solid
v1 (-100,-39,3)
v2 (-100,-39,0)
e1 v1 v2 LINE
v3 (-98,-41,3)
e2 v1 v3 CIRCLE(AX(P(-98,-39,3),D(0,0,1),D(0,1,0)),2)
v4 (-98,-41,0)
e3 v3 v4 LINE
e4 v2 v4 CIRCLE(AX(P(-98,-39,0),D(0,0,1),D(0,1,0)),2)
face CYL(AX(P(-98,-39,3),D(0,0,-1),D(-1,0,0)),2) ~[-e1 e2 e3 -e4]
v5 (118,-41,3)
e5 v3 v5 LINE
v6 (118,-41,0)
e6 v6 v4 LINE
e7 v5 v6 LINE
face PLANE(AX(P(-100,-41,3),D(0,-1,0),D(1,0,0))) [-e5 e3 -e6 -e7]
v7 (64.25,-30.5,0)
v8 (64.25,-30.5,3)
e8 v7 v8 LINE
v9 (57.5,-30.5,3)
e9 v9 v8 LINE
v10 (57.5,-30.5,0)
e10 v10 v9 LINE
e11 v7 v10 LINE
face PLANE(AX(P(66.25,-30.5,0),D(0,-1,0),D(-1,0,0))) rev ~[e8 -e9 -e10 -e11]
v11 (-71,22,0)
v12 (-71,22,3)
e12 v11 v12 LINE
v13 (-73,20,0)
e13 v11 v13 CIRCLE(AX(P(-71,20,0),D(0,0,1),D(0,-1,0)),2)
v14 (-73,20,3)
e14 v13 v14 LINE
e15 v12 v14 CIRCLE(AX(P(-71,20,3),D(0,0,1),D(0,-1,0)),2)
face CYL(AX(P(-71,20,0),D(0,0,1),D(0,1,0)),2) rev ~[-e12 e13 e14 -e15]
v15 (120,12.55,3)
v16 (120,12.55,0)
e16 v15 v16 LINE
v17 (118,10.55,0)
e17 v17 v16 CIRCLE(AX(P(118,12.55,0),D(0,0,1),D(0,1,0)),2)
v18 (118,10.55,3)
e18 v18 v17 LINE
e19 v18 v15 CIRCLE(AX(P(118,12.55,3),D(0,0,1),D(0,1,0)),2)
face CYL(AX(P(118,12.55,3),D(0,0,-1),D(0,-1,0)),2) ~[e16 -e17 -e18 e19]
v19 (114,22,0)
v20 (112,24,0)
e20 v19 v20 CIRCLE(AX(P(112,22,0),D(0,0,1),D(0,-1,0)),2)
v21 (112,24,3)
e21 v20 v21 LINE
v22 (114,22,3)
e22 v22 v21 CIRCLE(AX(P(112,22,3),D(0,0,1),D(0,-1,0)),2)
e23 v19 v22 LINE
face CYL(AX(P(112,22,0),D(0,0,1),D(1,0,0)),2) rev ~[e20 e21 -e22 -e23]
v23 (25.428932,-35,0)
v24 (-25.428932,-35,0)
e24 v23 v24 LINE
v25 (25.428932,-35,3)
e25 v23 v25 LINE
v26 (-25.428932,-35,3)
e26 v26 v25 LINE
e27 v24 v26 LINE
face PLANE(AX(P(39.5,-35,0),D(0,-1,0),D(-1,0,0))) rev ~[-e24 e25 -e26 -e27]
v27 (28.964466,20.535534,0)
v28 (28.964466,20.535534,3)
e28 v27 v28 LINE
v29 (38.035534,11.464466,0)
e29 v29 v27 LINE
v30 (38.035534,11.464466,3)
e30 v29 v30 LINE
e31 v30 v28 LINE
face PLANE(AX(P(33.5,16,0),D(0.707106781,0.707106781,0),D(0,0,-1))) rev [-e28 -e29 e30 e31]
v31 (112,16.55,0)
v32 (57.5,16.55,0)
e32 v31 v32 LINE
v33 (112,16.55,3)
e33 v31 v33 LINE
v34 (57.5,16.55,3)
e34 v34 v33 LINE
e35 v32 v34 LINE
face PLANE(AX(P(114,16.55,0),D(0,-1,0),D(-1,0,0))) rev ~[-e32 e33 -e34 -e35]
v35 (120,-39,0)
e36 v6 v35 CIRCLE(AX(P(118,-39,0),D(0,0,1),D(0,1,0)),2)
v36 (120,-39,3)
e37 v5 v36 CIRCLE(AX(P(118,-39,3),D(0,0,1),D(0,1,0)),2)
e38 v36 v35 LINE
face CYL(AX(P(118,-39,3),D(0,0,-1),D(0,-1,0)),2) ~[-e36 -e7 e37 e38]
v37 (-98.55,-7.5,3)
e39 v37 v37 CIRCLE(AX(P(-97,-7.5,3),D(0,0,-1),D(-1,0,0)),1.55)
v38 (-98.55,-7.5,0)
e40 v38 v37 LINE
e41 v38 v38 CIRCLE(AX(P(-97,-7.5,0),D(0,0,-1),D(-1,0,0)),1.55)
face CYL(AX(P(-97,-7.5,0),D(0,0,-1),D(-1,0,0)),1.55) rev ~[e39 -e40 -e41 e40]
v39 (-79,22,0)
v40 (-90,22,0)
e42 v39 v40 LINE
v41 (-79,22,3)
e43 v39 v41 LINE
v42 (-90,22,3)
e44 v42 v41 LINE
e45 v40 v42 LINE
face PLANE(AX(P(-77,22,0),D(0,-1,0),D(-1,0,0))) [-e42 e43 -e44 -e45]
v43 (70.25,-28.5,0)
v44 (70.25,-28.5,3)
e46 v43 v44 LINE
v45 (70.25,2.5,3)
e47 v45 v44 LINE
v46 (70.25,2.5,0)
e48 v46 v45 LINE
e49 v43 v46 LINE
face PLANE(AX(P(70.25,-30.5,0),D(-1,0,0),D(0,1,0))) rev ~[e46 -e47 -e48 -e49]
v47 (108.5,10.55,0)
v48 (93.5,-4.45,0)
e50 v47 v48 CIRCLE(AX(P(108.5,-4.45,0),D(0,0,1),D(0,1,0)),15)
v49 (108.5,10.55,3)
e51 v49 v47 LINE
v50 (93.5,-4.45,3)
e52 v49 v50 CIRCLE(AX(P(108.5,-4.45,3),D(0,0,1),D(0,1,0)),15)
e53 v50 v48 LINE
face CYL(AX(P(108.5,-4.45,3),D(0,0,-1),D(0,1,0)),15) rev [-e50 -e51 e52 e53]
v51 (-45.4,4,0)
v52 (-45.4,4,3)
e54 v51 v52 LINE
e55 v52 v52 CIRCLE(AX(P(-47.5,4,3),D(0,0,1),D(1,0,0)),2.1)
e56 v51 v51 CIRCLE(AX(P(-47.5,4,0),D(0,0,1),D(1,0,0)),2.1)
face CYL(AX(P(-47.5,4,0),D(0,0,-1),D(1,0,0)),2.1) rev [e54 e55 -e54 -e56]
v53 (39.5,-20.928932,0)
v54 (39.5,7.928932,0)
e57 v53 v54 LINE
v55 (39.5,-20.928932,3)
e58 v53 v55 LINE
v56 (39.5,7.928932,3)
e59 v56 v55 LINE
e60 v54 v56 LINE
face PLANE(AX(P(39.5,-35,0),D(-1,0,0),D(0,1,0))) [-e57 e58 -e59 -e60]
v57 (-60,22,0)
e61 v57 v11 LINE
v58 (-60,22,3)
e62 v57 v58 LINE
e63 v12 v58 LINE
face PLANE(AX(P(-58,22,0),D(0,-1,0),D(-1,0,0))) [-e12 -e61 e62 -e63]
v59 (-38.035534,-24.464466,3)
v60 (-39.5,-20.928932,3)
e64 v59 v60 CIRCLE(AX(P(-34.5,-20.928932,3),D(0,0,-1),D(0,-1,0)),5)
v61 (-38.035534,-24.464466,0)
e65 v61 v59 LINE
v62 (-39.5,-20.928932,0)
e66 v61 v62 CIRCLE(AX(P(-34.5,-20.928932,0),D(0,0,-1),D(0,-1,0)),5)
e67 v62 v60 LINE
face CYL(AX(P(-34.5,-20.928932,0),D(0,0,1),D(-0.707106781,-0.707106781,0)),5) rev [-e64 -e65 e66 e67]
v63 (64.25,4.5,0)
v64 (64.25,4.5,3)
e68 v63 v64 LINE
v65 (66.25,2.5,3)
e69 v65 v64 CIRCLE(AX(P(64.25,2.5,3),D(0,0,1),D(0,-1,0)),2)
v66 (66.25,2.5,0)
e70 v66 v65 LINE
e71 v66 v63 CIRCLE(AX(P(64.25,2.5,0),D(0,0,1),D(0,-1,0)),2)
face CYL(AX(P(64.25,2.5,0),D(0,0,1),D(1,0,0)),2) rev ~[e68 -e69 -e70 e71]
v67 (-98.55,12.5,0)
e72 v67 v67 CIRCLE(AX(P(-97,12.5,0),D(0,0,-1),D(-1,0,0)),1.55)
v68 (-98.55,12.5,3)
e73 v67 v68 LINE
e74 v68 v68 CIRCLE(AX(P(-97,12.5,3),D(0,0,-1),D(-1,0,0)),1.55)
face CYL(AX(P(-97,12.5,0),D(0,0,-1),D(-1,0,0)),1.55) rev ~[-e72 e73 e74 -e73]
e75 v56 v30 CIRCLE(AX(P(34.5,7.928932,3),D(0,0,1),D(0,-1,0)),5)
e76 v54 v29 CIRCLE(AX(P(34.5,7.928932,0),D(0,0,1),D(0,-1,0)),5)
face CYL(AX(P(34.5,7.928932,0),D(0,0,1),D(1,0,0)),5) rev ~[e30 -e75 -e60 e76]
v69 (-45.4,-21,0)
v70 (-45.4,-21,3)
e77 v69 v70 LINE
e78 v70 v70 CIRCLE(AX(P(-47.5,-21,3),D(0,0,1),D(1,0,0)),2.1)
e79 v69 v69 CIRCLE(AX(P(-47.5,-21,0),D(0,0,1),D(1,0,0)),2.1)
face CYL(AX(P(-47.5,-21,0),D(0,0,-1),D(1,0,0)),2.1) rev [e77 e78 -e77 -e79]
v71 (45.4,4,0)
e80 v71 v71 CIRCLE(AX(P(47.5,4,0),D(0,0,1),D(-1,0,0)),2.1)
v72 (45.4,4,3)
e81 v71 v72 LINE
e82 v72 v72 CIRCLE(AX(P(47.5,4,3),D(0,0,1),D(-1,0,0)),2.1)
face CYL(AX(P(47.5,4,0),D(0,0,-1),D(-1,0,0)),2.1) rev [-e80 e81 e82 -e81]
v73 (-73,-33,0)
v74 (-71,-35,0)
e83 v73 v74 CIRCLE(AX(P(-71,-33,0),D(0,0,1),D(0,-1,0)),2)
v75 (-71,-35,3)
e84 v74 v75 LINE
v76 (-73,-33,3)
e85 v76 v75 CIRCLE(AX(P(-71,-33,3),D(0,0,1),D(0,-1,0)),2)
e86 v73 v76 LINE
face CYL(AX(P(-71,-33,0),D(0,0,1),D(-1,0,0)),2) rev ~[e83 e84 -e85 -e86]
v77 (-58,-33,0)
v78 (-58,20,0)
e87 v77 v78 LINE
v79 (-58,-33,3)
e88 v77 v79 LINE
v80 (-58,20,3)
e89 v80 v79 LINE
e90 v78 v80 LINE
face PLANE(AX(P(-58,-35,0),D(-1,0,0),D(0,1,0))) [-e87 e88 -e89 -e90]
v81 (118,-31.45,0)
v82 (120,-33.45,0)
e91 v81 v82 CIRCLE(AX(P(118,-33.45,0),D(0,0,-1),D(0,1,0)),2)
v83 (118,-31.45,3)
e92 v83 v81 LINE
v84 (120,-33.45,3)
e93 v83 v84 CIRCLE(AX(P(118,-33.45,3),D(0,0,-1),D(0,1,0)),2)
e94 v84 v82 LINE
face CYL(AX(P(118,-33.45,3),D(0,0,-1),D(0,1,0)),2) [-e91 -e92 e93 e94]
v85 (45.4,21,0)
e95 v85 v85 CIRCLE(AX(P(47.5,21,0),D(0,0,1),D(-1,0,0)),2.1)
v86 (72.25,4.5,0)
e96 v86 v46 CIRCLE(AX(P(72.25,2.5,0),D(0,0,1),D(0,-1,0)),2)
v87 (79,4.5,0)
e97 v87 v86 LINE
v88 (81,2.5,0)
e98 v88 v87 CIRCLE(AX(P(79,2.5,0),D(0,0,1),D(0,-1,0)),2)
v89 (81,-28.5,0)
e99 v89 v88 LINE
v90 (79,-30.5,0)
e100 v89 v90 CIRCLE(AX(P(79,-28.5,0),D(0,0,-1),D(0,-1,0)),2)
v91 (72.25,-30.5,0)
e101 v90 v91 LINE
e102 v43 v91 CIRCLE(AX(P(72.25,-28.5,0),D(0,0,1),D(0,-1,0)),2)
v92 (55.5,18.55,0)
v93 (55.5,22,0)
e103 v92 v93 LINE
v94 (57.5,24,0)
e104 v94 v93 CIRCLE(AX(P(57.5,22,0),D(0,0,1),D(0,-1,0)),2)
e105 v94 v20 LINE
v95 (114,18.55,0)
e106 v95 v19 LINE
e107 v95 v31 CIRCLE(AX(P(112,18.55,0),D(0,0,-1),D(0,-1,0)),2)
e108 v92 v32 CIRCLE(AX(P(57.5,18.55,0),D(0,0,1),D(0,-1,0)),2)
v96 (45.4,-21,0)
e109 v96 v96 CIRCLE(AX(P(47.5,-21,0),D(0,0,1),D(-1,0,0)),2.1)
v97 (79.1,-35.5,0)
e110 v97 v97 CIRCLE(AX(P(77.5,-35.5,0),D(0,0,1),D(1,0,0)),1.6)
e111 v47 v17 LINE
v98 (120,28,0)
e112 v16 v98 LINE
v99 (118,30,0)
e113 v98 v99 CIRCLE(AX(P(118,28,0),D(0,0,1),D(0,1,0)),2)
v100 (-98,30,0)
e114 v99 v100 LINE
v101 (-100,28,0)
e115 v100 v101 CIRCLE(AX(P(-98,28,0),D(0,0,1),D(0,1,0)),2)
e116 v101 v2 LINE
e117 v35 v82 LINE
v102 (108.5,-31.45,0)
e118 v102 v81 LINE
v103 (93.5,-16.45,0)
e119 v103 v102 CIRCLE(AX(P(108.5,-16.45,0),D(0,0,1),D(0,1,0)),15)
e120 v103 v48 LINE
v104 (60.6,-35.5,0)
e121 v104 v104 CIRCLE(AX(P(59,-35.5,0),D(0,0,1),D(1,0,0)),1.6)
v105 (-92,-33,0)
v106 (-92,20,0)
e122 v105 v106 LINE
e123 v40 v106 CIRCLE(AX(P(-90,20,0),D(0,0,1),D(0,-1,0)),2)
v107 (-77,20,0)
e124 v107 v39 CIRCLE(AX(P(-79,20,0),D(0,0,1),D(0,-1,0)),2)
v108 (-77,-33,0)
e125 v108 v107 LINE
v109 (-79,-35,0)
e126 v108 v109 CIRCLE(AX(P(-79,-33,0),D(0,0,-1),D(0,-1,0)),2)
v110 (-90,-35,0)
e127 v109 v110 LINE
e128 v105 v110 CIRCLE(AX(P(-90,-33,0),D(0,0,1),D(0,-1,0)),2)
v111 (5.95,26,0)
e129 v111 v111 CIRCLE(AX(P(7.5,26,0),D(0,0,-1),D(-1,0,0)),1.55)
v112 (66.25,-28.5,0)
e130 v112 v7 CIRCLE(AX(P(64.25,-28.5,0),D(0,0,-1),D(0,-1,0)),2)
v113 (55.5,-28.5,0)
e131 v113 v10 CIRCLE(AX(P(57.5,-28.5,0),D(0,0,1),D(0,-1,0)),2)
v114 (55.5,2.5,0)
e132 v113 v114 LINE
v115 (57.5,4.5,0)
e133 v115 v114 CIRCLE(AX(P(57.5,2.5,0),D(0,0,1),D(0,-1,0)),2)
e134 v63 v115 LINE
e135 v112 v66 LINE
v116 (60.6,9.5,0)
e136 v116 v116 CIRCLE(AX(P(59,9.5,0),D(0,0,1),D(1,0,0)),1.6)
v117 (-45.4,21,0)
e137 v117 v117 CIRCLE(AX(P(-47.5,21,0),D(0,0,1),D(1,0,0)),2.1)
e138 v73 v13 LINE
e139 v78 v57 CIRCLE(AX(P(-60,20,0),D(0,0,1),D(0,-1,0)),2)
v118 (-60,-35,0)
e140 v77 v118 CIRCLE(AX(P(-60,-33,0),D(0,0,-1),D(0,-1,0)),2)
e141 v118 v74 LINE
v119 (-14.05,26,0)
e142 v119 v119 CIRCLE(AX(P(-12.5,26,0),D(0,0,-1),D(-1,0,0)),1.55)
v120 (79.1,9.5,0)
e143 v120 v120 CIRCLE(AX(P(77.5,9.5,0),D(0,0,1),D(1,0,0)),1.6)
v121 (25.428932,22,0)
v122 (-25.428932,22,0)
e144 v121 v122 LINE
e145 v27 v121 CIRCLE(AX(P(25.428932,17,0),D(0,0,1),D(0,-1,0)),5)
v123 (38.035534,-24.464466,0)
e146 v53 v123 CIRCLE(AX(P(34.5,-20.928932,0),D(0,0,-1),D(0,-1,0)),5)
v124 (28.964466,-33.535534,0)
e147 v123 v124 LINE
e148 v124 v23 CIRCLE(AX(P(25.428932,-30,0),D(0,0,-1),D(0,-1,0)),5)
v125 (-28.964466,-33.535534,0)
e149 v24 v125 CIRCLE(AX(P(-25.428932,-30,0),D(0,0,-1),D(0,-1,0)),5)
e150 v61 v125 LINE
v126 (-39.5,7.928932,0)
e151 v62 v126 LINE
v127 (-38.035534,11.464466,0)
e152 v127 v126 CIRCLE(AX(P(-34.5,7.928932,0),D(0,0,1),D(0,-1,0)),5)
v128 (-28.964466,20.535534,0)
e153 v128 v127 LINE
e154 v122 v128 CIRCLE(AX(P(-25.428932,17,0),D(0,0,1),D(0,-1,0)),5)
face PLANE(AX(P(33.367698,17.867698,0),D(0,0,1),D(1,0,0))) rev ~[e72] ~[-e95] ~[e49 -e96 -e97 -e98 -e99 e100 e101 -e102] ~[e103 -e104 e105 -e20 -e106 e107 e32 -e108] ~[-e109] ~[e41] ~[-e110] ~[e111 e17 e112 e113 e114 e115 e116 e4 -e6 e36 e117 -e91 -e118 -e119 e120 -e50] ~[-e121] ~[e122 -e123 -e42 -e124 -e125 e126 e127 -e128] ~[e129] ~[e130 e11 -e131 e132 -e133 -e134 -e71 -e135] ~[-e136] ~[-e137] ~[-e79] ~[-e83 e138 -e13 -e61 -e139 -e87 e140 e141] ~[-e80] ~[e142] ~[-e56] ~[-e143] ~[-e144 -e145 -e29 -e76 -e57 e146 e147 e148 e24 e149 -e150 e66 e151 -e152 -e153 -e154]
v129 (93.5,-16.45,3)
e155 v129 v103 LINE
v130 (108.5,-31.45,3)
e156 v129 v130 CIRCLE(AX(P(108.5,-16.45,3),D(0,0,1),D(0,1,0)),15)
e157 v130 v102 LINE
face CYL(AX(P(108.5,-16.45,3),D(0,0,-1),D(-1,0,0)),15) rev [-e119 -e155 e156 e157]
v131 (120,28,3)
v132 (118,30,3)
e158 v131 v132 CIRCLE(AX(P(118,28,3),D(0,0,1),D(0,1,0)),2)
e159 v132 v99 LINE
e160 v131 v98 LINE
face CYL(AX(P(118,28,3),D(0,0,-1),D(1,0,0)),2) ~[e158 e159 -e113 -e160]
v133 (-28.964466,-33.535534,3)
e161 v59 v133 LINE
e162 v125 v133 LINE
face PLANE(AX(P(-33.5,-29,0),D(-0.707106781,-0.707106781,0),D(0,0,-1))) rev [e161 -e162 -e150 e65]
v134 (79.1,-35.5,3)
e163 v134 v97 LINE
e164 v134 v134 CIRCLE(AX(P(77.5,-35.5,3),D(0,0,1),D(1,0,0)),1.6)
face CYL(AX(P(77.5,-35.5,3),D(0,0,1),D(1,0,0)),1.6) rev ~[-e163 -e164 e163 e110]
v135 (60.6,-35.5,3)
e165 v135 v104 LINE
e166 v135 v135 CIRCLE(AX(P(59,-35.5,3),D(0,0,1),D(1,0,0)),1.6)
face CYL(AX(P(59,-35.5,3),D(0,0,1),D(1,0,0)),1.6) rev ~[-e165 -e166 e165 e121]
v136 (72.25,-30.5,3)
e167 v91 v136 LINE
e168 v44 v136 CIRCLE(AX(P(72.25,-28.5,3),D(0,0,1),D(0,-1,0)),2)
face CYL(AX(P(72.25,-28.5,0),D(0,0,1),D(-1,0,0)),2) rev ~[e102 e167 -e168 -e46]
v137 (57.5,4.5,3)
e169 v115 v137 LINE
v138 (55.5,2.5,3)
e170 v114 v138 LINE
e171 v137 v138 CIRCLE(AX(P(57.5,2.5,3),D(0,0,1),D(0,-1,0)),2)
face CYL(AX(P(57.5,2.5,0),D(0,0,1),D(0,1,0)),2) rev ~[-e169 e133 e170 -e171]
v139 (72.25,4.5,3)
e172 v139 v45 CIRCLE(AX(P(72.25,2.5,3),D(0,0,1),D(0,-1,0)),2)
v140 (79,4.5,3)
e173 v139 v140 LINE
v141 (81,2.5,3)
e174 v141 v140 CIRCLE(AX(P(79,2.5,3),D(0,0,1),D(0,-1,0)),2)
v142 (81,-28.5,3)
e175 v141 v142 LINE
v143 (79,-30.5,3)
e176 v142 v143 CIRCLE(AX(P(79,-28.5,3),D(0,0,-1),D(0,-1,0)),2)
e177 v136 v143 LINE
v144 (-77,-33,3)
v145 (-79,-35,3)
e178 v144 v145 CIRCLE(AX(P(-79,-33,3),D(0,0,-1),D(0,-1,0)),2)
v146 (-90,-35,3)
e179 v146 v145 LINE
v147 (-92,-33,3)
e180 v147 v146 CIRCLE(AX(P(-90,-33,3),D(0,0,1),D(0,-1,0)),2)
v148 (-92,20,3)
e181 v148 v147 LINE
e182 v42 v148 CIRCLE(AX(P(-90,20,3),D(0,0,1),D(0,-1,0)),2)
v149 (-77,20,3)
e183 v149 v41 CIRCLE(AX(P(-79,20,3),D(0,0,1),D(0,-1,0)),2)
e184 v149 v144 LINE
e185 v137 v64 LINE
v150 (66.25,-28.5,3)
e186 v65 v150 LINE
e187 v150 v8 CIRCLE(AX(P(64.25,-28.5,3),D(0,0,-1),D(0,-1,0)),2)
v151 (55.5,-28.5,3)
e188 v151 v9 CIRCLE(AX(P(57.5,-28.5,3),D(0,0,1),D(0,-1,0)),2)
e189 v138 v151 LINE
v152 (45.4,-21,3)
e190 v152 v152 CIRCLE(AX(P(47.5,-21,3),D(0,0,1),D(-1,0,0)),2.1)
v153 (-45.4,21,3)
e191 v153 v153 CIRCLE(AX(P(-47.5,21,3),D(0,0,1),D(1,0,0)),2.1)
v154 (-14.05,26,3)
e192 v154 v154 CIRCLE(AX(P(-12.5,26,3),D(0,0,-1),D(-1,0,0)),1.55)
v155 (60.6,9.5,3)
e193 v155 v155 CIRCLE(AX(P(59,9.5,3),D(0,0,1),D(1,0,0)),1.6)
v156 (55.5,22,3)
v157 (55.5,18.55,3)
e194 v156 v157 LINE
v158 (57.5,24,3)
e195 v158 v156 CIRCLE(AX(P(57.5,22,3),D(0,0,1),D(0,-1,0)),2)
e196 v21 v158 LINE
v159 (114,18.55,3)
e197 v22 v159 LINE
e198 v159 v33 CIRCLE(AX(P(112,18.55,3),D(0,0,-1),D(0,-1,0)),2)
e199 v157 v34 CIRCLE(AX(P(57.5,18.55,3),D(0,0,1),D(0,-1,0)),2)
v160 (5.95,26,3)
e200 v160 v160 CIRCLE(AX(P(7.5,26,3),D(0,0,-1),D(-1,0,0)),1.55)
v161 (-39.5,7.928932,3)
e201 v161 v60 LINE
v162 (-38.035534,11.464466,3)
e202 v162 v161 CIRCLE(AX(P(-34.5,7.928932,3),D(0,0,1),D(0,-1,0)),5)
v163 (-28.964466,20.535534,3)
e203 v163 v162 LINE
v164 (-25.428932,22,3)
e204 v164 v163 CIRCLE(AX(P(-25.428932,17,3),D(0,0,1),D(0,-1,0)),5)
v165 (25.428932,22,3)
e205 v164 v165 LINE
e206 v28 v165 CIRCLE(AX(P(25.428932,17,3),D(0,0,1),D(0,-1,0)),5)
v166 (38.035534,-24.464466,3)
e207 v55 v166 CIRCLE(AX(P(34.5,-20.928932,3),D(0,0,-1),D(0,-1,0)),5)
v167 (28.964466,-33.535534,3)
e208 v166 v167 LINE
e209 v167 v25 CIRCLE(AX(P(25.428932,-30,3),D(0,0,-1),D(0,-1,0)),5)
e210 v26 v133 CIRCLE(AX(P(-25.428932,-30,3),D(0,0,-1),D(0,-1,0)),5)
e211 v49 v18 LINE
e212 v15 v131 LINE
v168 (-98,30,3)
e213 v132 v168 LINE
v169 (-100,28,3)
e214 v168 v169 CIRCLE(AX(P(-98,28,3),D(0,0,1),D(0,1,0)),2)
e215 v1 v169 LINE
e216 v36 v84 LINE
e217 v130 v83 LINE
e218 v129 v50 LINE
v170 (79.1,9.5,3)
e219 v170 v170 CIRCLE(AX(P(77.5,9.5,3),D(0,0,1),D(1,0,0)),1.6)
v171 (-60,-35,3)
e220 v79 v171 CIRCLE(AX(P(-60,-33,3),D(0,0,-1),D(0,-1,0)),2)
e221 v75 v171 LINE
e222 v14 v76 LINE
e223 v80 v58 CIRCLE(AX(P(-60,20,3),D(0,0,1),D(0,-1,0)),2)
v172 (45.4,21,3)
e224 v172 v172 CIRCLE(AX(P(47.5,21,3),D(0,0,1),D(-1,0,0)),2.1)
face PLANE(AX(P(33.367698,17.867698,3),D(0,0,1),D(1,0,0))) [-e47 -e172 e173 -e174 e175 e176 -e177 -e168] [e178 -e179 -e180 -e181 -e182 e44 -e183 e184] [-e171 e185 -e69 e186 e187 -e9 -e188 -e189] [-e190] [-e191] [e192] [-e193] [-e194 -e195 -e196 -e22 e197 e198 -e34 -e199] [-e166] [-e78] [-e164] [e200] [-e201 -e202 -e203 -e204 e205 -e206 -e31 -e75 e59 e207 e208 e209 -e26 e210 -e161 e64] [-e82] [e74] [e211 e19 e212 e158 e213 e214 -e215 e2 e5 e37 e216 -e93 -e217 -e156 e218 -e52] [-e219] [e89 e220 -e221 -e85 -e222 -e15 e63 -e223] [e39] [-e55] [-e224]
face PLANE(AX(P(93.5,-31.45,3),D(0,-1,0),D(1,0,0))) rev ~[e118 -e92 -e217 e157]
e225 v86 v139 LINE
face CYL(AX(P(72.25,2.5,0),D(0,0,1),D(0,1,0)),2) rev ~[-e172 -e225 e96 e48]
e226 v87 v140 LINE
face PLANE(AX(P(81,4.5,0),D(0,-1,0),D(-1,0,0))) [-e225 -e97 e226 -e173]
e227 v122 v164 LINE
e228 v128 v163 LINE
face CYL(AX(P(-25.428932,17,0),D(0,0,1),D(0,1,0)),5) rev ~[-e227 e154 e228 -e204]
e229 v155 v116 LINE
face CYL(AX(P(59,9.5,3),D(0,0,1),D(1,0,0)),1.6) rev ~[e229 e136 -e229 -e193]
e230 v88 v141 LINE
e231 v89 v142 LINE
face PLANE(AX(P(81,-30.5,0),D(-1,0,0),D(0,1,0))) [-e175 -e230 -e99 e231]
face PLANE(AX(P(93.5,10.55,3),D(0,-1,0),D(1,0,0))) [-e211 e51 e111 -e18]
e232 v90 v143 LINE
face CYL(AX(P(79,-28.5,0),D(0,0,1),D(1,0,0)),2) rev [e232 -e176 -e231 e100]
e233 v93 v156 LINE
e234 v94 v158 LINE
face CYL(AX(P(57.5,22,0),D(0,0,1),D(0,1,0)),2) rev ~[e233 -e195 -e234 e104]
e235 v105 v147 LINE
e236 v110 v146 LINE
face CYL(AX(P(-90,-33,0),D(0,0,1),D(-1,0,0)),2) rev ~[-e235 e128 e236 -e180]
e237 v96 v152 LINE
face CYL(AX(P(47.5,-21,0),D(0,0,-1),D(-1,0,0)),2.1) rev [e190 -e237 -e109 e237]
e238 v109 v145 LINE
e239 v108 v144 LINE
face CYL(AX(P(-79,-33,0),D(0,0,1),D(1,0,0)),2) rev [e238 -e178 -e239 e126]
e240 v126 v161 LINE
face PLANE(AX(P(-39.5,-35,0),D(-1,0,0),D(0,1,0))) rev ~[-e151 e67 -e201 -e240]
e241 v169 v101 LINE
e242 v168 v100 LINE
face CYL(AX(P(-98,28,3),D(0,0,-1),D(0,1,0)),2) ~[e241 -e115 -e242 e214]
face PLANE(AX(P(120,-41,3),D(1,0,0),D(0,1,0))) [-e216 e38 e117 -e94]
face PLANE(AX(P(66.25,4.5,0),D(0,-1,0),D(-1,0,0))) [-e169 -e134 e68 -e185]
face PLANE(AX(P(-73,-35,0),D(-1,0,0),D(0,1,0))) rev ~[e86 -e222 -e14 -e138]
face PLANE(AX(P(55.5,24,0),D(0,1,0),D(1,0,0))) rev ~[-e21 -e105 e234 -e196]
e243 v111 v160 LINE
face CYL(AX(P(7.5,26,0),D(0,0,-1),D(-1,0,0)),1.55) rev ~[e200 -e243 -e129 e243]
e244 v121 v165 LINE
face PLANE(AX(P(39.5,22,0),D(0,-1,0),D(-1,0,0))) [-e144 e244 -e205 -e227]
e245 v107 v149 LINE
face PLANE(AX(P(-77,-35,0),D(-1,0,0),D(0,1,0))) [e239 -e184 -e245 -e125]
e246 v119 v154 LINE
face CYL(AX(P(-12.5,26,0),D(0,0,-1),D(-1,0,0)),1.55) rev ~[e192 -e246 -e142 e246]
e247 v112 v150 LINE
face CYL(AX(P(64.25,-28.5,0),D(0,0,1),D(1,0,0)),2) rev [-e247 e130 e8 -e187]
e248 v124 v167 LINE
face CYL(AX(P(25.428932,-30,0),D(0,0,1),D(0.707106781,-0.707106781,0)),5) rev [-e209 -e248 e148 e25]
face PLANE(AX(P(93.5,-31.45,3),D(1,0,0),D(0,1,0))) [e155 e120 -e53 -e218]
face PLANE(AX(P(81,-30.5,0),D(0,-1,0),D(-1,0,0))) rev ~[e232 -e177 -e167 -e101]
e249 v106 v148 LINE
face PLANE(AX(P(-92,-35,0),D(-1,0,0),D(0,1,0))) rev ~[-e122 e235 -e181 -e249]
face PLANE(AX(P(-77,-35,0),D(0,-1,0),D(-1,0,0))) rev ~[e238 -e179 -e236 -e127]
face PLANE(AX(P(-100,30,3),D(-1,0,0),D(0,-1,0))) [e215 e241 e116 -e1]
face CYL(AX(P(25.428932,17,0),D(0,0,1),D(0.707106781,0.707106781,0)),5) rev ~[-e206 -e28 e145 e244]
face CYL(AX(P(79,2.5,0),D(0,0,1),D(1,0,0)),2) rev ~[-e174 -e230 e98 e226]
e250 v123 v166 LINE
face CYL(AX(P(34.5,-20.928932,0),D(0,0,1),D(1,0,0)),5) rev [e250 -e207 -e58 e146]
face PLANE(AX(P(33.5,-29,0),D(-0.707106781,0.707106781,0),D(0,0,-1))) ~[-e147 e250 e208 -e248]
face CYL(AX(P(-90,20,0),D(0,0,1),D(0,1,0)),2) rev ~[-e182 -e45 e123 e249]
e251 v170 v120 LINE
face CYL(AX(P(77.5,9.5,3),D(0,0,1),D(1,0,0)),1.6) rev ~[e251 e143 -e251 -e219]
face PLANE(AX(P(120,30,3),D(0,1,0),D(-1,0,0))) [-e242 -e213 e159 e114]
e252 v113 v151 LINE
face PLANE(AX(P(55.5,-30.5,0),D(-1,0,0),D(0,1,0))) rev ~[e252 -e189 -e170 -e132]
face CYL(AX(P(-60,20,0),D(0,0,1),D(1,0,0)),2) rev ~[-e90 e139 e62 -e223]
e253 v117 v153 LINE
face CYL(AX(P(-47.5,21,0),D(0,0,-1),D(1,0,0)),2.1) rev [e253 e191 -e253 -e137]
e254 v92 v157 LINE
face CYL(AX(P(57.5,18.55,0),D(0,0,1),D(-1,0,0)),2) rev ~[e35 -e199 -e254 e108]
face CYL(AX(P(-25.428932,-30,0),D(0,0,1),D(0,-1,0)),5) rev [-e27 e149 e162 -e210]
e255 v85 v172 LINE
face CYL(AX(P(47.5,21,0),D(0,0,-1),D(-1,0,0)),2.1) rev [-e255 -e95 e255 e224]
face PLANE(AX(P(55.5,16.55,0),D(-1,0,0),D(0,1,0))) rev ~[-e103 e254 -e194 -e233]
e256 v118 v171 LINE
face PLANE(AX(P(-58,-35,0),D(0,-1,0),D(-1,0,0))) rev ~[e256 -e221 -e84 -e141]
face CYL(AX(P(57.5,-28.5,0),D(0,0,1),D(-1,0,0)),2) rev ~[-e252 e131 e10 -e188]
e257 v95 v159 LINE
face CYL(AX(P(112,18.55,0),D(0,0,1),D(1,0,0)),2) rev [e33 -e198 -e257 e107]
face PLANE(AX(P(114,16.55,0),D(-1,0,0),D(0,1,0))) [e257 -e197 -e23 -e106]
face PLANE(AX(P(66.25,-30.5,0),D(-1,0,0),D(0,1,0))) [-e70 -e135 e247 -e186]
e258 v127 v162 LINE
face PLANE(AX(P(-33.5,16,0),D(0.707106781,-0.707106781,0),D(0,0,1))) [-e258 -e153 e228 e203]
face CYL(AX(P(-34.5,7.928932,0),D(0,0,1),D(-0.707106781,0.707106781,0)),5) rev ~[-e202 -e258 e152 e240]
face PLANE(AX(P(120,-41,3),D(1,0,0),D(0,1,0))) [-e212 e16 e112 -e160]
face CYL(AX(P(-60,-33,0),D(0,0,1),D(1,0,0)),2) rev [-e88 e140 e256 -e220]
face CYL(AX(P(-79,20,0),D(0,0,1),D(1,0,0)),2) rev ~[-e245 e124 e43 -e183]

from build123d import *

# Parameters (mm, degrees)
SKETCH_1_W           = 200
SKETCH_1_H           = 54
SKETCH_1_R           = 2.1
EXTRUDE_1_DEPTH      = 3
SKETCH_3_W           = 200
SKETCH_3_H           = 14
EXTRUDE_2_DEPTH      = 3
SKETCH_2_R           = 1.6
CUT_EXTRUDE_1_DEPTH  = 10
EXTRUDE_3_DEPTH      = 3
SKETCH_5_W           = 26.5
SKETCH_5_H           = 42
CUT_EXTRUDE_2_DEPTH  = 10
FILLET_1_R           = 15
FILLET_2_R           = 2
SKETCH_14_W          = 79
SKETCH_14_H          = 57
CUT_EXTRUDE_7_DEPTH  = 10
CHAMFER_1_SIZE       = 12
FILLET_4_R           = 5
SKETCH_15_W          = 15
SKETCH_15_H          = 57
SKETCH_15_W_2        = 10.75
SKETCH_15_H_2        = 35
CUT_EXTRUDE_10_DEPTH = 10
FILLET_5_R           = 2
SKETCH_16_W          = 52.508149225
SKETCH_16_H          = 7.45
SKETCH_16_W_2        = 5.991850775
CUT_EXTRUDE_11_DEPTH = 10
FILLET_6_R           = 2
SKETCH_17_R          = 1.55
CUT_EXTRUDE_12_DEPTH = 10
SKETCH_18_R          = 1.55
CUT_EXTRUDE_13_DEPTH = 10


with BuildPart() as part:
    # 草图1 → 凸台-拉伸1 (new body)
    with BuildSketch(Plane.XY):
        Rectangle(SKETCH_1_W, SKETCH_1_H)
        with Locations((-47.5, 21)):
            Circle(SKETCH_1_R, mode=Mode.SUBTRACT)
        with Locations((-47.5, 4)):
            Circle(SKETCH_1_R, mode=Mode.SUBTRACT)
        with Locations((-47.5, -21)):
            Circle(SKETCH_1_R, mode=Mode.SUBTRACT)
        with Locations(Location((47.5, -21, 0), (0, 0, 180))):
            Circle(SKETCH_1_R, mode=Mode.SUBTRACT)
        with Locations(Location((47.5, 4, 0), (0, 0, 180))):
            Circle(SKETCH_1_R, mode=Mode.SUBTRACT)
        with Locations(Location((47.5, 21, 0), (0, 0, 180))):
            Circle(SKETCH_1_R, mode=Mode.SUBTRACT)
    extrude(amount=EXTRUDE_1_DEPTH)

    # 草图3 → 凸台-拉伸2 (add)
    with BuildSketch(Plane.XY.offset(3)):
        with Locations((0, -34)):
            Rectangle(SKETCH_3_W, SKETCH_3_H)
    extrude(amount=-EXTRUDE_2_DEPTH)

    # 草图2 → 切除-拉伸1 (cut)
    with BuildSketch(Plane.XY.offset(3)):
        with Locations((59, 9.5)):
            Circle(SKETCH_2_R)
        with Locations((77.5, 9.5)):
            Circle(SKETCH_2_R)
        with Locations((77.5, -35.5)):
            Circle(SKETCH_2_R)
        with Locations((59, -35.5)):
            Circle(SKETCH_2_R)
    extrude(amount=-CUT_EXTRUDE_1_DEPTH, mode=Mode.SUBTRACT)

    # 草图4 → 凸台-拉伸3 (add)
    with BuildSketch(Plane.XY.offset(3)):
        Polygon((-100, 30), (-100, 27), (100, 27), (100, -41), (120, -41), (120, 30), align=None)
    extrude(amount=-EXTRUDE_3_DEPTH)

    # 草图5 → 切除-拉伸2 (cut)
    with BuildSketch(Plane.XY.offset(3)):
        with Locations((106.75, -10.45)):
            Rectangle(SKETCH_5_W, SKETCH_5_H)
    extrude(amount=-CUT_EXTRUDE_2_DEPTH, mode=Mode.SUBTRACT)

    # 圆角1
    fillet_1_edges = [part.edges().sort_by_distance(p)[0] for p in [
        (93.5, -31.45, 1.5),
        (93.5, 10.55, 1.5),
    ]]
    fillet(fillet_1_edges, radius=FILLET_1_R)

    # 圆角2
    fillet_2_edges = [part.edges().sort_by_distance(p)[0] for p in [
        (-100, -41, 1.5),
        (120, -41, 1.5),
        (120, 30, 1.5),
        (-100, 30, 1.5),
        (120, 10.55, 1.5),
        (120, -31.45, 1.5),
    ]]
    fillet(fillet_2_edges, radius=FILLET_2_R)

    # 草图14 → 切除-拉伸7 (cut)
    with BuildSketch(Plane(origin=(0, 0, 0), x_dir=(-1, 0, 0), z_dir=(0, 0, -1))):
        with Locations((0, -6.5)):
            Rectangle(SKETCH_14_W, SKETCH_14_H)
    extrude(amount=-CUT_EXTRUDE_7_DEPTH, mode=Mode.SUBTRACT)

    # 倒角1
    chamfer_1_edges = [part.edges().sort_by_distance(p)[0] for p in [
        (-39.5, 22, 1.5),
        (-39.5, -35, 1.5),
        (39.5, -35, 1.5),
        (39.5, 22, 1.5),
    ]]
    chamfer(chamfer_1_edges, length=CHAMFER_1_SIZE)

    # 圆角4
    fillet_4_edges = [part.edges().sort_by_distance(p)[0] for p in [
        (27.5, 22, 1.5),
        (-27.5, 22, 1.5),
        (-39.5, -23, 1.5),
        (-39.5, 10, 1.5),
        (27.5, -35, 1.5),
        (-27.5, -35, 1.5),
        (39.5, 10, 1.5),
        (39.5, -23, 1.5),
    ]]
    fillet(fillet_4_edges, radius=FILLET_4_R)

    # 草图15 → 切除-拉伸10 (cut)
    with BuildSketch(Plane(origin=(0, 0, 0), x_dir=(-1, 0, 0), z_dir=(0, 0, -1))):
        with Locations((65.5, -6.5)):
            Rectangle(SKETCH_15_W, SKETCH_15_H)
        with Locations((84.5, -6.5)):
            Rectangle(SKETCH_15_W, SKETCH_15_H)
        with Locations((-60.875, -13)):
            Rectangle(SKETCH_15_W_2, SKETCH_15_H_2)
        with Locations((-75.625, -13)):
            Rectangle(SKETCH_15_W_2, SKETCH_15_H_2)
    extrude(amount=-CUT_EXTRUDE_10_DEPTH, mode=Mode.SUBTRACT)

    # 圆角5
    fillet_5_edges = [part.edges().sort_by_distance(p)[0] for p in [
        (70.25, 4.5, 1.5),
        (70.25, -30.5, 1.5),
        (81, -30.5, 1.5),
        (81, 4.5, 1.5),
        (66.25, 4.5, 1.5),
        (55.5, 4.5, 1.5),
        (55.5, -30.5, 1.5),
        (66.25, -30.5, 1.5),
        (-92, -35, 1.5),
        (-77, -35, 1.5),
        (-77, 22, 1.5),
        (-92, 22, 1.5),
        (-58, 22, 1.5),
        (-73, 22, 1.5),
        (-73, -35, 1.5),
        (-58, -35, 1.5),
    ]]
    fillet(fillet_5_edges, radius=FILLET_5_R)

    # 草图16 → 切除-拉伸11 (cut)
    with BuildSketch(Plane(origin=(0, 0, 0), x_dir=(-1, 0, 0), z_dir=(0, 0, -1))):
        with Locations((-87.745925387, 20.275)):
            Rectangle(SKETCH_16_W, SKETCH_16_H)
        with Locations((-58.495925388, 20.275)):
            Rectangle(SKETCH_16_W_2, SKETCH_16_H)
    extrude(amount=-CUT_EXTRUDE_11_DEPTH, mode=Mode.SUBTRACT)

    # 圆角6
    fillet_6_edges = [part.edges().sort_by_distance(p)[0] for p in [
        (55.5, 16.55, 1.5),
        (114, 16.55, 1.5),
        (114, 24, 1.5),
        (55.5, 24, 1.5),
    ]]
    fillet(fillet_6_edges, radius=FILLET_6_R)

    # 草图17 → 切除-拉伸12 (cut)
    with BuildSketch(Plane(origin=(0, 0, 0), x_dir=(-1, 0, 0), z_dir=(0, 0, -1))):
        with Locations((-7.5, 26)):
            Circle(SKETCH_17_R)
        with Locations((12.5, 26)):
            Circle(SKETCH_17_R)
    extrude(amount=-CUT_EXTRUDE_12_DEPTH, mode=Mode.SUBTRACT)

    # 草图18 → 切除-拉伸13 (cut)
    with BuildSketch(Plane(origin=(0, 0, 0), x_dir=(-1, 0, 0), z_dir=(0, 0, -1))):
        with Locations((97, 12.5)):
            Circle(SKETCH_18_R)
        with Locations((97, -7.5)):
            Circle(SKETCH_18_R)
    extrude(amount=-CUT_EXTRUDE_13_DEPTH, mode=Mode.SUBTRACT)


solid = part.part
